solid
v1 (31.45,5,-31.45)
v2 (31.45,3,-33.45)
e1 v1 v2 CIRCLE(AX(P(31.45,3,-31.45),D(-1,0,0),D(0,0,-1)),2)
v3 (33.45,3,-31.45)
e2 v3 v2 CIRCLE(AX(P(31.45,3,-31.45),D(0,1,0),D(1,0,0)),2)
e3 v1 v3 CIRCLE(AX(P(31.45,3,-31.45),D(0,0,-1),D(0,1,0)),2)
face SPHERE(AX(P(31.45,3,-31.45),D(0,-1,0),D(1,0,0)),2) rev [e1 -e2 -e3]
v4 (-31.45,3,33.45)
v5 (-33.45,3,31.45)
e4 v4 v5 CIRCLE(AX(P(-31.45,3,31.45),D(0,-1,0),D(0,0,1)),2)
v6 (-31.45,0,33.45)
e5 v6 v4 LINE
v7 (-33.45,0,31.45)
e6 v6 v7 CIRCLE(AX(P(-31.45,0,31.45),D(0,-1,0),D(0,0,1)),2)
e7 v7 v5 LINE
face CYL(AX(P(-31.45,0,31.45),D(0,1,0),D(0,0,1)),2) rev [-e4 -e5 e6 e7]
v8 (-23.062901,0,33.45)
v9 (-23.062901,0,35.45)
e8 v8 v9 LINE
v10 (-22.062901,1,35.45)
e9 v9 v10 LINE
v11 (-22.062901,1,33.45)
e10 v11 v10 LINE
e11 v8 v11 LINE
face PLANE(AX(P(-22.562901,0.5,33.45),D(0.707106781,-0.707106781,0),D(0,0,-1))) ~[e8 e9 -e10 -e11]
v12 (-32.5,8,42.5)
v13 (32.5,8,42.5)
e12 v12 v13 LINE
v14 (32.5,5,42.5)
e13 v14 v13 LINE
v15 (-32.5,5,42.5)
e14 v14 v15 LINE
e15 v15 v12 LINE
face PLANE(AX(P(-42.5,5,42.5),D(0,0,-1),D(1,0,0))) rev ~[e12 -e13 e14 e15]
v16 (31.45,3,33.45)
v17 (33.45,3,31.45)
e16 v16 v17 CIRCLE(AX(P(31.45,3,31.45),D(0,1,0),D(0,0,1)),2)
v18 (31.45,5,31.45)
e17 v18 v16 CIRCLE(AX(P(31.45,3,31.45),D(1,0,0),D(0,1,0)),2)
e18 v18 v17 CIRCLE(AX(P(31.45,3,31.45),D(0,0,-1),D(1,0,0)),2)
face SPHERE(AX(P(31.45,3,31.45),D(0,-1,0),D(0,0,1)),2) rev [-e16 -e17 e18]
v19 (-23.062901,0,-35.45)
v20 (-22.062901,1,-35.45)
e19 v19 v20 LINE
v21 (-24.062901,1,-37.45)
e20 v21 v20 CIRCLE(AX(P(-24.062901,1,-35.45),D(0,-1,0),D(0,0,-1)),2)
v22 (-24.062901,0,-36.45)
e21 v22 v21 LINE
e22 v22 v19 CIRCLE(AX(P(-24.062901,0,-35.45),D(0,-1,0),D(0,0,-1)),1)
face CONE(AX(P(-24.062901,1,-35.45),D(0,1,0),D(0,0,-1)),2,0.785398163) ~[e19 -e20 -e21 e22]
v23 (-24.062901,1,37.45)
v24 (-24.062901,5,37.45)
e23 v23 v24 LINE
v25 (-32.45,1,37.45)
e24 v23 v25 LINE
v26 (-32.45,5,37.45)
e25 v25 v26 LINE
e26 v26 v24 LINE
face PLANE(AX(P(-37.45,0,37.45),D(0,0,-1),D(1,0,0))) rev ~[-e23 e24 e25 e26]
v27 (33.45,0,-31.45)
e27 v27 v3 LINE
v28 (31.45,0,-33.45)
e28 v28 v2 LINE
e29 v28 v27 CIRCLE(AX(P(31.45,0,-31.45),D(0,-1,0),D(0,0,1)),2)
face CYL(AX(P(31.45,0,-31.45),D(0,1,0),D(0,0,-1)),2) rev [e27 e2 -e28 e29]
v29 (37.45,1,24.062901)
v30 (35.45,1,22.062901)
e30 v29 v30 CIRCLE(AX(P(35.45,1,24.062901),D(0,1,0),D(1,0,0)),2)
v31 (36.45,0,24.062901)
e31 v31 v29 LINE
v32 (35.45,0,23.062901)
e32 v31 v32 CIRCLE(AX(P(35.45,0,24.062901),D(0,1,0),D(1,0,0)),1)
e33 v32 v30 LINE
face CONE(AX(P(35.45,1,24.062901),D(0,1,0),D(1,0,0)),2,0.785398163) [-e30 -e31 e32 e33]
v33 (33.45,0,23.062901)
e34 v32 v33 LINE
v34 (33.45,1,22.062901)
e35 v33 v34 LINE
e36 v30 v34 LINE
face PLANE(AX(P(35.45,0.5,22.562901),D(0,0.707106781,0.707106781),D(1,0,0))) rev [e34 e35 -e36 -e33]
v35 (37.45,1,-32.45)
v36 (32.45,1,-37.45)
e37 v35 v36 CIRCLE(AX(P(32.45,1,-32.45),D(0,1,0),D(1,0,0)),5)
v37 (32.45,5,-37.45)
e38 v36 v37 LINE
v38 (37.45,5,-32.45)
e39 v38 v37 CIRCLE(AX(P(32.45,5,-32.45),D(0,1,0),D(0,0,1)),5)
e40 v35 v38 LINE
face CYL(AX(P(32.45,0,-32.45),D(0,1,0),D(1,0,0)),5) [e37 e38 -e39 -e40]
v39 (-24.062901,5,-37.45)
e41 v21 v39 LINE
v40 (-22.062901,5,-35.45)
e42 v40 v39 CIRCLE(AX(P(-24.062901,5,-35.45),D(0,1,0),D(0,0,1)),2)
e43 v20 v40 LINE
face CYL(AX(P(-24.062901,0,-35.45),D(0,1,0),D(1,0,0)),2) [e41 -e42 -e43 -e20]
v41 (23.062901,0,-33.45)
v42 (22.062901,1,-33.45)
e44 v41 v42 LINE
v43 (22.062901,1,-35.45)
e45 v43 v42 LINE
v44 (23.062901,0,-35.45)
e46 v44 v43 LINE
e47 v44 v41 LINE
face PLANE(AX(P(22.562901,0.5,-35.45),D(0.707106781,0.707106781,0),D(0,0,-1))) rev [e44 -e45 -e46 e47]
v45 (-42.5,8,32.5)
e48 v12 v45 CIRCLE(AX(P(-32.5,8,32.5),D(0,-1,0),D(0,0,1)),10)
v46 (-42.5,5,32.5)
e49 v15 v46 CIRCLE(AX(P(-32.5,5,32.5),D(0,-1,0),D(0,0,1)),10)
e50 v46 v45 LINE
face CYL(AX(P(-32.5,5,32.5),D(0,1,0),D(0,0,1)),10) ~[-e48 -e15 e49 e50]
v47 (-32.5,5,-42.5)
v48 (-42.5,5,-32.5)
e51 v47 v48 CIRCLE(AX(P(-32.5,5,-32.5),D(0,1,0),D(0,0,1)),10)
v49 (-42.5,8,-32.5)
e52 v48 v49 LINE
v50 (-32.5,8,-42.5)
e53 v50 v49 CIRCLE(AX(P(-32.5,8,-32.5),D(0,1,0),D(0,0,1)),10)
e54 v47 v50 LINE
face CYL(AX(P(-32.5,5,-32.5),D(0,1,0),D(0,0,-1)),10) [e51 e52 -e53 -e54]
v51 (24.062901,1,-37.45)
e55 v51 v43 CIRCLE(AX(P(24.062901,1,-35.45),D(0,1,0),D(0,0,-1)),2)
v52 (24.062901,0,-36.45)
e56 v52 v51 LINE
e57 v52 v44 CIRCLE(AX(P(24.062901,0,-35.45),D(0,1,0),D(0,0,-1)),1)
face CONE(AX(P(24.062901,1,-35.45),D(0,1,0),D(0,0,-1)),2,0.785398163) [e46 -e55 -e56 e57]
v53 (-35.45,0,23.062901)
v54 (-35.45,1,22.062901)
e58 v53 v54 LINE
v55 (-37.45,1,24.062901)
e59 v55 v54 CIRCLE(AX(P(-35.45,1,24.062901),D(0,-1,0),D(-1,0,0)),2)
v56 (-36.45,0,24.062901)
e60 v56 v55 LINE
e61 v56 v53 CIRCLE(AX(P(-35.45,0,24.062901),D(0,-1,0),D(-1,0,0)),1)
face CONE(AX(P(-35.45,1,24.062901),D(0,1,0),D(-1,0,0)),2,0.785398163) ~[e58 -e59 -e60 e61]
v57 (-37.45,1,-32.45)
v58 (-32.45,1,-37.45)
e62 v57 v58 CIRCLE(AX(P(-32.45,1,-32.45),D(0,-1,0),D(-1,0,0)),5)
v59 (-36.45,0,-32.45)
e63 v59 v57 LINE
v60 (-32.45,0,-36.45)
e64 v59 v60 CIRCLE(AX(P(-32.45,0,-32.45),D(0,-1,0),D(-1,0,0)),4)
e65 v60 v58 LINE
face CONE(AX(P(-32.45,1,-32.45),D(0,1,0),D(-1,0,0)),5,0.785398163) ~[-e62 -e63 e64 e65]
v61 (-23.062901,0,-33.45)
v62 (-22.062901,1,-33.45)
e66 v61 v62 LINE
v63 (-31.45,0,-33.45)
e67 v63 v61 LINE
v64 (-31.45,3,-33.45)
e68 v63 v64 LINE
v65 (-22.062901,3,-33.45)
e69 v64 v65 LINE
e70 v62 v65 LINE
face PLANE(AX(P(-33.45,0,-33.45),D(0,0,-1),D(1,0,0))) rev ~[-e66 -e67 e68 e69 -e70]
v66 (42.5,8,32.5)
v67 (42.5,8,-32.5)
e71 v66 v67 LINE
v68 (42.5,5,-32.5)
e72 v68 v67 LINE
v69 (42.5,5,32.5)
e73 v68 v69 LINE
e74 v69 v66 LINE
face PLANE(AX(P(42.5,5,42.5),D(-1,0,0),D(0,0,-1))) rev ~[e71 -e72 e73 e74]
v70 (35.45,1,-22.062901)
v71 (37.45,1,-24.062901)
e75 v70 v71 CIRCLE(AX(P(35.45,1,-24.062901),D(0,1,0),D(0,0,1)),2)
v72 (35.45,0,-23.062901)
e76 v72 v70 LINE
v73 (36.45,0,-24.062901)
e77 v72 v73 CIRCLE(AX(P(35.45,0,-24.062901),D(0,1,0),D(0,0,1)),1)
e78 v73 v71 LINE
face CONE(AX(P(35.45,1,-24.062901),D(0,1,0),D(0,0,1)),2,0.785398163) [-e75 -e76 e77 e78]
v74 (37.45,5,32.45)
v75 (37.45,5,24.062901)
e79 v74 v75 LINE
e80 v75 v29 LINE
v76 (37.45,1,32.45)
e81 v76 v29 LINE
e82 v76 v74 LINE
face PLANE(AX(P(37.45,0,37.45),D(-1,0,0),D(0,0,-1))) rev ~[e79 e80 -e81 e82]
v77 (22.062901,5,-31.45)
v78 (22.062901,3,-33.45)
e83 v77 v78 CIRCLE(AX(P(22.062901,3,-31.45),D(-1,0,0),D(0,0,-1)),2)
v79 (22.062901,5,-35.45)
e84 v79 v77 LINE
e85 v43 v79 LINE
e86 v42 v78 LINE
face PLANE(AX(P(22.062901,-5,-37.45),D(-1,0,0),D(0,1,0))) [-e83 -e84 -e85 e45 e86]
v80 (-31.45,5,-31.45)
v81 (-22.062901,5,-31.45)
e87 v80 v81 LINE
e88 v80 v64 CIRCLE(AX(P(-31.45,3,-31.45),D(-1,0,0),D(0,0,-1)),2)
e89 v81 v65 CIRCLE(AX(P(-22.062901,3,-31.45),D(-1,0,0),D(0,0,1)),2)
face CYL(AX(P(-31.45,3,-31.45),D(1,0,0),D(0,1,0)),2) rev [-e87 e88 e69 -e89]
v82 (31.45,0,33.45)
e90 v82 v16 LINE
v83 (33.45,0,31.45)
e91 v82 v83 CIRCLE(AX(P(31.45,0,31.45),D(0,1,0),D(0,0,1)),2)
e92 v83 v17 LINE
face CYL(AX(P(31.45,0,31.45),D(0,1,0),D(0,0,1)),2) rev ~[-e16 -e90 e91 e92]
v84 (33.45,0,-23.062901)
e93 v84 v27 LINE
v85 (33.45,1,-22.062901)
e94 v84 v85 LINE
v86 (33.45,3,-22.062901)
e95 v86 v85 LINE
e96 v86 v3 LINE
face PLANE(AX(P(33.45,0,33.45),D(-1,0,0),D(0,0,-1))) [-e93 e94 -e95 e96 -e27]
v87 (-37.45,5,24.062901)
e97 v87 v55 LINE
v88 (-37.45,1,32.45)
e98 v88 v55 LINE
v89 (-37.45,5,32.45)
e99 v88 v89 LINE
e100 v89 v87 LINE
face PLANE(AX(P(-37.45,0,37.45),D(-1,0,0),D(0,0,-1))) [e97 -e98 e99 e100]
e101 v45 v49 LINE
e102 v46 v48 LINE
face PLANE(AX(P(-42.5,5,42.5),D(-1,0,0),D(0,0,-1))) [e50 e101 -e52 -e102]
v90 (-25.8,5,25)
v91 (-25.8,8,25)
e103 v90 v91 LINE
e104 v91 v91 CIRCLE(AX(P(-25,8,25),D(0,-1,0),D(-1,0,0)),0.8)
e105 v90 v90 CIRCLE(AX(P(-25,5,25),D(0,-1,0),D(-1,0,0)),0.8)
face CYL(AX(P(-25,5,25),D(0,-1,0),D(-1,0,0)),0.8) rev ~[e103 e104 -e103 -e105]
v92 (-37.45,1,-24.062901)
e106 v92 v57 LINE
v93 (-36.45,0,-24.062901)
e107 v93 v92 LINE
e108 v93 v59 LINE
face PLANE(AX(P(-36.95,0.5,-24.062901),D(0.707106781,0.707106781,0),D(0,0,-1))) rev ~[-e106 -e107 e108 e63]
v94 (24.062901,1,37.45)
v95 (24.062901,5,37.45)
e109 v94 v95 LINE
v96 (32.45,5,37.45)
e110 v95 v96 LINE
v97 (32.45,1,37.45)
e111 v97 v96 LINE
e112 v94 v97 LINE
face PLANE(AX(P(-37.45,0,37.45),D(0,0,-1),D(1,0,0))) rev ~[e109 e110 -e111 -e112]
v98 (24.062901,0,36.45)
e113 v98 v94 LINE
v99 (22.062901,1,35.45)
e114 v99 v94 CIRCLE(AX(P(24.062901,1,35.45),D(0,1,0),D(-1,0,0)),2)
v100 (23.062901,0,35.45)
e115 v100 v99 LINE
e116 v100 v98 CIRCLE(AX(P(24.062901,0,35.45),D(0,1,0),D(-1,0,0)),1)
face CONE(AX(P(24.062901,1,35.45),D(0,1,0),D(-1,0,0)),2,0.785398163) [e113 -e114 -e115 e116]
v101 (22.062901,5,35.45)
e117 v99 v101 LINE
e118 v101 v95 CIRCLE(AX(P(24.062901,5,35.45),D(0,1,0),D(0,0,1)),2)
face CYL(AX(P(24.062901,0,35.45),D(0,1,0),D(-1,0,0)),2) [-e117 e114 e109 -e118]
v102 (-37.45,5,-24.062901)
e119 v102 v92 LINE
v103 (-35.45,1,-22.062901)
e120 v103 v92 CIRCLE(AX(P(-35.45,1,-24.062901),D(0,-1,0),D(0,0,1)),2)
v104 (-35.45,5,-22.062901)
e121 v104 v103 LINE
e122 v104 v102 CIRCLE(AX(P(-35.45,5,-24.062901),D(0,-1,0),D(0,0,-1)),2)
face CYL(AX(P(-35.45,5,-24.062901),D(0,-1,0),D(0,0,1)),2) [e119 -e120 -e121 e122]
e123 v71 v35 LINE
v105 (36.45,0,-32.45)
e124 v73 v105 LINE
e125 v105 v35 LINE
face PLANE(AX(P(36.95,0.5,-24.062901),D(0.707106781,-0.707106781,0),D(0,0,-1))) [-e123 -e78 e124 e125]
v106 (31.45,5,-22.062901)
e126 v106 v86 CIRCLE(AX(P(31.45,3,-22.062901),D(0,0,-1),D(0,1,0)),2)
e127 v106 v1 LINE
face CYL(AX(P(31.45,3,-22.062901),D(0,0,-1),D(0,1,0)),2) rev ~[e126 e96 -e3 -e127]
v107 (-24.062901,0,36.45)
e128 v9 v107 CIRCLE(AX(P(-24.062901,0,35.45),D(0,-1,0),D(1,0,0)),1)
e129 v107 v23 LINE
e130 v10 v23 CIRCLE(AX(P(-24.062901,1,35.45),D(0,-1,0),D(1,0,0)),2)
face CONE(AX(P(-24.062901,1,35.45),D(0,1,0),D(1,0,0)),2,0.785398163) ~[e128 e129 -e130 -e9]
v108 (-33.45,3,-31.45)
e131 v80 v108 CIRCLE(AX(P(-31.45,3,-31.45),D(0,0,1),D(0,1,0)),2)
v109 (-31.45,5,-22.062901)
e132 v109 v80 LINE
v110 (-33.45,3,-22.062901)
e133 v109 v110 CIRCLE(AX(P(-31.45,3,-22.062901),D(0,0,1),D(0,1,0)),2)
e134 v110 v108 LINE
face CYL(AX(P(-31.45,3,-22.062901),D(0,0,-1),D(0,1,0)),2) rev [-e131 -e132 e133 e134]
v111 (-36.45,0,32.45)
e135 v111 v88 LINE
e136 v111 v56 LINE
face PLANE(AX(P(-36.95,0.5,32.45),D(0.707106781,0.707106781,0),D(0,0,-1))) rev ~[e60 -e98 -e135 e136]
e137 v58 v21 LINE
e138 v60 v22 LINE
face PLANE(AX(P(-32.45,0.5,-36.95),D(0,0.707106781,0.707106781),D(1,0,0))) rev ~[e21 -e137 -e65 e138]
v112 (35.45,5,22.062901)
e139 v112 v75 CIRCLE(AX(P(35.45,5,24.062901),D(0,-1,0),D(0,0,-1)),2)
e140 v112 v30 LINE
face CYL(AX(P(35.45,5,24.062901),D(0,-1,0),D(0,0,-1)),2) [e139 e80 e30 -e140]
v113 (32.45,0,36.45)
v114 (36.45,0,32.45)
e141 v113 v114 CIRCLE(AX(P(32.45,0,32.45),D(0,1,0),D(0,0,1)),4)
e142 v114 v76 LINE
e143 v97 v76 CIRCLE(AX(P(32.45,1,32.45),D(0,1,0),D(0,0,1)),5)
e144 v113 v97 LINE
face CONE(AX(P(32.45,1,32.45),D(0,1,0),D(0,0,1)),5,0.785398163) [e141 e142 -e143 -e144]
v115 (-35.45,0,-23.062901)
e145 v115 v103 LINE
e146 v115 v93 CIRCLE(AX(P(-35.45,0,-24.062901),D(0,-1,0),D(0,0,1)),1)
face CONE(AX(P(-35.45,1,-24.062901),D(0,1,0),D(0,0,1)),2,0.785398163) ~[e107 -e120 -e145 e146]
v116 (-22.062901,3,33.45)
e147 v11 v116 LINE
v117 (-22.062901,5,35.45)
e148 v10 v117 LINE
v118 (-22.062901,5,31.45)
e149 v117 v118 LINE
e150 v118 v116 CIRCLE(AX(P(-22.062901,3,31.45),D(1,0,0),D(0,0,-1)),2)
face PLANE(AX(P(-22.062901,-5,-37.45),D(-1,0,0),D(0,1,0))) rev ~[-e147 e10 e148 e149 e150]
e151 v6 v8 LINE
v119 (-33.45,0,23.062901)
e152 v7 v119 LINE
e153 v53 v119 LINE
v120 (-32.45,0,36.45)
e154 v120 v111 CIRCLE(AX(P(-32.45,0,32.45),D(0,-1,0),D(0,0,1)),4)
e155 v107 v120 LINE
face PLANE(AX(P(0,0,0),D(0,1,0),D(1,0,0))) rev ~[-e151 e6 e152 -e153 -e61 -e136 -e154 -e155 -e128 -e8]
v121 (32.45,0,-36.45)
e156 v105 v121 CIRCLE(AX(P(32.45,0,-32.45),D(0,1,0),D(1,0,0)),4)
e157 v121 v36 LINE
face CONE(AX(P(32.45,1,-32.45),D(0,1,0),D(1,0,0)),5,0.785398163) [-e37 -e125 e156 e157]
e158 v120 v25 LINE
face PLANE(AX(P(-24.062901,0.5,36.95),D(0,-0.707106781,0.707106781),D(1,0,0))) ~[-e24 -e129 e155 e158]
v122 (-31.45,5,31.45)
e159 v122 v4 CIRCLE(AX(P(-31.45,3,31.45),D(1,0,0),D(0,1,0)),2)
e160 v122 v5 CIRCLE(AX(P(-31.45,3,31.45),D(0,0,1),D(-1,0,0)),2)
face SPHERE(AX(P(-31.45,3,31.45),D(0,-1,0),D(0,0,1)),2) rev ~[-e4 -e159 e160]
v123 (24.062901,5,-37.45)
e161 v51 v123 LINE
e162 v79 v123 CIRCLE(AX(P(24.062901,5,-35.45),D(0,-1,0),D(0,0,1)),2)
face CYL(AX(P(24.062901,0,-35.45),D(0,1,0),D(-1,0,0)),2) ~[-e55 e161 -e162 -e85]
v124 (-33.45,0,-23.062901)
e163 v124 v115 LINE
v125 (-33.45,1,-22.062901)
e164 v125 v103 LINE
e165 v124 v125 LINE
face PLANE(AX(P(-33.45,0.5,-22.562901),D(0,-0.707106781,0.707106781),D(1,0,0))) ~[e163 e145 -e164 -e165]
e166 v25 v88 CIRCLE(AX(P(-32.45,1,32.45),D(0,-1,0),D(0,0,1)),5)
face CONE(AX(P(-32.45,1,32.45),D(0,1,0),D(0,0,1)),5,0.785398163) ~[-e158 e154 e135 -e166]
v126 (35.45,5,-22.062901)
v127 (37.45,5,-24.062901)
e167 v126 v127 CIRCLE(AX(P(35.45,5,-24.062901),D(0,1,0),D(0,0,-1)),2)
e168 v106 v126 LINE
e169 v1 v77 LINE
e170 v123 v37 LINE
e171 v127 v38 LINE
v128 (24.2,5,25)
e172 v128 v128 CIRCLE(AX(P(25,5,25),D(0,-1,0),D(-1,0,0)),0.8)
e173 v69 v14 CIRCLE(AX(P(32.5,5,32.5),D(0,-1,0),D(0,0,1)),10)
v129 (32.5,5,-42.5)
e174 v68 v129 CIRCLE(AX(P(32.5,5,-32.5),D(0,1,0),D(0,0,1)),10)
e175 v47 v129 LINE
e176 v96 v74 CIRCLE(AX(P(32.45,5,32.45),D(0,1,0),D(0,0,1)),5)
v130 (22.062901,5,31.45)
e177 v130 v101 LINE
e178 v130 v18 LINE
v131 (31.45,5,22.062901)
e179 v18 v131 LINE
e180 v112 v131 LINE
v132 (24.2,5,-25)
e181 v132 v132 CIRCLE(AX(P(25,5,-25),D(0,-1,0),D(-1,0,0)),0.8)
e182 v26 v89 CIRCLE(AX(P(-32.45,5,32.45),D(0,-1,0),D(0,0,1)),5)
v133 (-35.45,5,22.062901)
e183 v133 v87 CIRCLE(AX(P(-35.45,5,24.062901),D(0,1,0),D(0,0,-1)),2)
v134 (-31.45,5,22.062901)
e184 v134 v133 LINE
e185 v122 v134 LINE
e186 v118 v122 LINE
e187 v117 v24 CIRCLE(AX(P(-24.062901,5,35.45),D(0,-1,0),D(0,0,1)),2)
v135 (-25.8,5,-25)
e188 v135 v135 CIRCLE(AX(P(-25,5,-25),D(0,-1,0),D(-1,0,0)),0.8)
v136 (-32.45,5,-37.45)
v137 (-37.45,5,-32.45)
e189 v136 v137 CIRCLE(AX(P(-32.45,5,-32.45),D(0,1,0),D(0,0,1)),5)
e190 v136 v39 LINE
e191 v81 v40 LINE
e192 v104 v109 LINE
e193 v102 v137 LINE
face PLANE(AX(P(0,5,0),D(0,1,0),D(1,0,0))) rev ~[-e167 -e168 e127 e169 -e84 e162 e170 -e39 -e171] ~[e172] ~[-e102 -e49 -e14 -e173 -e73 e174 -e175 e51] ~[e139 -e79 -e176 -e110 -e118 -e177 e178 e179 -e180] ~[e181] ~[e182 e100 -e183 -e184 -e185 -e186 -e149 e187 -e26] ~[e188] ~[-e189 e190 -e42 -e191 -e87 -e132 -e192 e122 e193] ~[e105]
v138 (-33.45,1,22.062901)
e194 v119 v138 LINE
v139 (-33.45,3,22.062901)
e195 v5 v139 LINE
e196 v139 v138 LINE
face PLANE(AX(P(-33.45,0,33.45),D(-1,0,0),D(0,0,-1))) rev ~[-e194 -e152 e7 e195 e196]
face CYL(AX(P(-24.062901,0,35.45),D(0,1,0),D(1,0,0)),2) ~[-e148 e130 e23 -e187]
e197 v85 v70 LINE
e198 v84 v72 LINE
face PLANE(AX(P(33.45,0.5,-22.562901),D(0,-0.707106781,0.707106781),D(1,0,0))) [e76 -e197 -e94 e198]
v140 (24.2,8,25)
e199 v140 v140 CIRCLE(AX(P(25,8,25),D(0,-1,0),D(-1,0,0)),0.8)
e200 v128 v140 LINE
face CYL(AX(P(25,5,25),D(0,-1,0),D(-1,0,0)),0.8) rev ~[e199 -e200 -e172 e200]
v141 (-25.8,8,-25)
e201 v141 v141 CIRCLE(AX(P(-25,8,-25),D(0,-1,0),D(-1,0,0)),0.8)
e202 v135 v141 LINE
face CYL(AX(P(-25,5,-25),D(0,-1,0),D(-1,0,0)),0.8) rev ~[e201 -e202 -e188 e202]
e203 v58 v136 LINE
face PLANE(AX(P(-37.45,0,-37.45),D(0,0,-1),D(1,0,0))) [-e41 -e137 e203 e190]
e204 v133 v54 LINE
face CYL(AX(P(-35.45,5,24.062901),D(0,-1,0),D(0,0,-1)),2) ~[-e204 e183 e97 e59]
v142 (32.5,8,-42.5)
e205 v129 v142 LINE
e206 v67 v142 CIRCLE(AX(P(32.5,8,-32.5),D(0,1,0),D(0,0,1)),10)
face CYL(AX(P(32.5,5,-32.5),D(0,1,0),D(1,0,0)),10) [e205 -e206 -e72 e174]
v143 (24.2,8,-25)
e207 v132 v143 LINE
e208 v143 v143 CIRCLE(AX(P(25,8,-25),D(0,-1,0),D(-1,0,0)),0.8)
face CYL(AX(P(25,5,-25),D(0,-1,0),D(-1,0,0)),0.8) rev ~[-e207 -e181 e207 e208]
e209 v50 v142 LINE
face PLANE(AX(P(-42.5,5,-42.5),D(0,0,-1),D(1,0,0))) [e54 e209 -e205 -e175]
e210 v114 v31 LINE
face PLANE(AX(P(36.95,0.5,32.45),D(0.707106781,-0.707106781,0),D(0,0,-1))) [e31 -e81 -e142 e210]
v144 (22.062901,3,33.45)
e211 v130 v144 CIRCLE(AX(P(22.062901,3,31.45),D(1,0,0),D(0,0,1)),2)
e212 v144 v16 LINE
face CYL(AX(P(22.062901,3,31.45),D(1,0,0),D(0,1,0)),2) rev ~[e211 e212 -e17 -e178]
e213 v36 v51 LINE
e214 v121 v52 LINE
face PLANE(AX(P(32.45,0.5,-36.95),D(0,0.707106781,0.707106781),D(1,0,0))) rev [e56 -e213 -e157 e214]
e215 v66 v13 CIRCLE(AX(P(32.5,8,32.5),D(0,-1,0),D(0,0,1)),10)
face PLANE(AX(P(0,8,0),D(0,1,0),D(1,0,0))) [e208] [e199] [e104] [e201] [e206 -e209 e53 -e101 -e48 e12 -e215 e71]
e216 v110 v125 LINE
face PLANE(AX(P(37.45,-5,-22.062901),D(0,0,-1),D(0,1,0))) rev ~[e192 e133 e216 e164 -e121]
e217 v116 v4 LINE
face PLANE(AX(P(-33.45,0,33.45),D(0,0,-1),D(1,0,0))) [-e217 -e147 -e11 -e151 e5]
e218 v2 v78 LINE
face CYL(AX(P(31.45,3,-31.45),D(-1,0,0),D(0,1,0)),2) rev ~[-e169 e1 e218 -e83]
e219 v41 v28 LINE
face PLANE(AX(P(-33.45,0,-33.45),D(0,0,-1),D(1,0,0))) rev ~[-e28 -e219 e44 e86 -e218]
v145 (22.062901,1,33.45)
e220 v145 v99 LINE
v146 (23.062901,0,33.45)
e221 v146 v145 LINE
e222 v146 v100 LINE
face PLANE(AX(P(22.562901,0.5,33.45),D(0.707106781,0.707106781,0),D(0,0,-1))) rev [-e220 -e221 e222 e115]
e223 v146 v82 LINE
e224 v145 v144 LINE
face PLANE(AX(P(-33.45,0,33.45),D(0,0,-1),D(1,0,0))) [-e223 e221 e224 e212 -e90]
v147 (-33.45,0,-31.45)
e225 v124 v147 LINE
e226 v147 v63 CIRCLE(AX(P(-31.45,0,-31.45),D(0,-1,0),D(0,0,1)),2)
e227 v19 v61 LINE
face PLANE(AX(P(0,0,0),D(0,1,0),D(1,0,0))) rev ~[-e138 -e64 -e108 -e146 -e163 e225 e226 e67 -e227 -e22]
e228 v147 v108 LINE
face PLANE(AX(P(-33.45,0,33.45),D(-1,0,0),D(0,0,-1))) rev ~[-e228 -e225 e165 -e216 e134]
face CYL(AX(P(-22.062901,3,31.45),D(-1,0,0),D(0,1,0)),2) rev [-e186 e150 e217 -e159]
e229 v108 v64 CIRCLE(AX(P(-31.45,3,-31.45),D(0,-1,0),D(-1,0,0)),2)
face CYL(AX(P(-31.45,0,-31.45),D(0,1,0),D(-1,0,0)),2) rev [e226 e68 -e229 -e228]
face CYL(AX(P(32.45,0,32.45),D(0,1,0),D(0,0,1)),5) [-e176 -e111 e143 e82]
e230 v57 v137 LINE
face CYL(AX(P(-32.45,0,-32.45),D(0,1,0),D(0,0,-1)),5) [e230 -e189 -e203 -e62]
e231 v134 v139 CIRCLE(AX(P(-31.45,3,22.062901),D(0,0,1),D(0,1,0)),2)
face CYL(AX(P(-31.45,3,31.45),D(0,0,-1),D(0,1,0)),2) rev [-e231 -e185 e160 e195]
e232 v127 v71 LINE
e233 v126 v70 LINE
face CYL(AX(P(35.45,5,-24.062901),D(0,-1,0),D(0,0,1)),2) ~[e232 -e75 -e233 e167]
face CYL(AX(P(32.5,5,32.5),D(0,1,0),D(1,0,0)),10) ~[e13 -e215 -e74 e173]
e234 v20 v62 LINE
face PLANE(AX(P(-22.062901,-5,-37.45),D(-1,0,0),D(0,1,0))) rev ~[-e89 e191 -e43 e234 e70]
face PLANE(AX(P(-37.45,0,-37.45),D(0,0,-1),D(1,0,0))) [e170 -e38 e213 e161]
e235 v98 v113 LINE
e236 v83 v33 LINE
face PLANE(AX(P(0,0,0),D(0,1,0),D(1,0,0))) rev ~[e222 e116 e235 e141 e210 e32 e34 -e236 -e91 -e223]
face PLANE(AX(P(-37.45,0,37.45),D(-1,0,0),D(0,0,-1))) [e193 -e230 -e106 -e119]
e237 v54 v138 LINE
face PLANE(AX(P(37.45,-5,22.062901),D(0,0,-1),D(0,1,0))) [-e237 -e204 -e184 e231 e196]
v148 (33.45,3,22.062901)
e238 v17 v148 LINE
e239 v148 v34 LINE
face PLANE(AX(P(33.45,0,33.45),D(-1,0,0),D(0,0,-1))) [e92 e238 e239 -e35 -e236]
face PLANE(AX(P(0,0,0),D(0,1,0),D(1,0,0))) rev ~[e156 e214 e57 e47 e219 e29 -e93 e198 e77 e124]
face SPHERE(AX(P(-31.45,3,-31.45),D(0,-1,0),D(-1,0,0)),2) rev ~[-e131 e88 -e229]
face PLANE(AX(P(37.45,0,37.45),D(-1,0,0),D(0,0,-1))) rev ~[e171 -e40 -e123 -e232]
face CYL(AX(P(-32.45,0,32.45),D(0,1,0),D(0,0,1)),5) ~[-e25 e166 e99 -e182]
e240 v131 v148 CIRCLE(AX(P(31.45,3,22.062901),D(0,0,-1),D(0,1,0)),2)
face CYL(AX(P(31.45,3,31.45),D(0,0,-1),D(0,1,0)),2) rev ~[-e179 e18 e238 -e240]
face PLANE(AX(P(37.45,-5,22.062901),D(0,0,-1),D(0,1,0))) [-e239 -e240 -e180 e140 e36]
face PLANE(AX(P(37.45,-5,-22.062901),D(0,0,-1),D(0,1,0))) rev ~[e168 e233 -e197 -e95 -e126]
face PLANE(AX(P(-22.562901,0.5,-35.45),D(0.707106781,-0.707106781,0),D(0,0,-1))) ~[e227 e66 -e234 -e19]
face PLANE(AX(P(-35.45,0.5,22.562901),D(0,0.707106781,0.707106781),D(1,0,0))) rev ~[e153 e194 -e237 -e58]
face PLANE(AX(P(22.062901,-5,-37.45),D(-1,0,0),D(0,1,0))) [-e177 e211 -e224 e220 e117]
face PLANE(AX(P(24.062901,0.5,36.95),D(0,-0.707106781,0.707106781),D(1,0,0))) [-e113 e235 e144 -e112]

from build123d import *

# Parameters (mm, degrees)
SKETCH_1_W               = 74.9
SKETCH_1_H               = 74.9
SKETCH_1_W_2             = 66.9
SKETCH_1_H_2             = 66.9
EXTRUDE_1_DEPTH          = 5
SKETCH_2_W               = 85
SKETCH_2_H               = 85
EXTRUDE_2_DEPTH          = 3
FILLET_2_R               = 5
SKETCH_3_W               = 44.125802366
SKETCH_3_H               = 10
CUT_EXTRUDE_1_DEPTH      = 103
PATTERN_CIRCULAR_1_COUNT = 2
PATTERN_CIRCULAR_1_ANGLE = 90
FILLET_3_R               = 2
FILLET_4_R               = 2
FILLET_5_R               = 2
CHAMFER_1_SIZE           = 1
SKETCH_5_R               = 0.8
CUT_EXTRUDE_2_DEPTH      = 10
FILLET_9_R               = 10


with BuildPart() as part:
    # 草图1 → 凸台-拉伸1 (new body)
    with BuildSketch(Plane(origin=(0, 0, 0), x_dir=(1, 0, 0), z_dir=(0, 1, 0))):
        Rectangle(SKETCH_1_W, SKETCH_1_H)
        Rectangle(SKETCH_1_W_2, SKETCH_1_H_2, mode=Mode.SUBTRACT)
    extrude(amount=EXTRUDE_1_DEPTH)

    # 草图2 → 凸台-拉伸2 (add)
    with BuildSketch(Plane(origin=(0, 5, 0), x_dir=(1, 0, 0), z_dir=(0, 1, 0))):
        Rectangle(SKETCH_2_W, SKETCH_2_H)
    extrude(amount=EXTRUDE_2_DEPTH)

    # 圆角2
    fillet_2_edges = [part.edges().sort_by_distance(p)[0] for p in [
        (-37.45, 2.5, 37.45),
        (-37.45, 2.5, -37.45),
        (37.45, 2.5, -37.45),
        (37.45, 2.5, 37.45),
    ]]
    fillet(fillet_2_edges, radius=FILLET_2_R)

    # 草图3 → 切除-拉伸1 (cut, symmetric)
    with BuildSketch(Plane(origin=(0, 0, -37.45), x_dir=(-1, 0, 0), z_dir=(0, 0, -1))):
        Rectangle(SKETCH_3_W, SKETCH_3_H)
    cut_extrude_1 = extrude(amount=CUT_EXTRUDE_1_DEPTH, both=True, mode=Mode.SUBTRACT)

    # 阵列(圆周)1: 切除-拉伸1 ×2 about axis
    pattern_circular_1_axis = Axis((0, 0, 0), (0, -1, 0))
    for i in range(1, PATTERN_CIRCULAR_1_COUNT):
        add(cut_extrude_1.rotate(pattern_circular_1_axis, i * PATTERN_CIRCULAR_1_ANGLE / (PATTERN_CIRCULAR_1_COUNT - 1)), mode=Mode.SUBTRACT)

    # 圆角3
    fillet_3_edges = [part.edges().sort_by_distance(p)[0] for p in [
        (-33.45, 2.5, 33.45),
        (33.45, 2.5, 33.45),
        (33.45, 2.5, -33.45),
        (-33.45, 2.5, -33.45),
    ]]
    fillet(fillet_3_edges, radius=FILLET_3_R)

    # 圆角4
    fillet_4_edges = [part.edges().sort_by_distance(p)[0] for p in [
        (-22.062901183, 2.5, -37.45),
        (-37.45, 2.5, -22.062901183),
        (37.45, 2.5, -22.062901183),
        (22.062901183, 2.5, -37.45),
        (-37.45, 2.5, 22.062901183),
        (-22.062901183, 2.5, 37.45),
        (37.45, 2.5, 22.062901183),
        (22.062901183, 2.5, 37.45),
    ]]
    fillet(fillet_4_edges, radius=FILLET_4_R)

    # 圆角5
    fillet_5_edges = [part.edges().sort_by_distance(p)[0] for p in [
        (-26.756450591, 5, 33.45),
        (-32.864213562, 5, 32.864213562),
        (33.45, 5, 26.756450591),
        (26.756450591, 5, 33.45),
        (-33.45, 5, -26.756450591),
        (-32.864213562, 5, -32.864213562),
        (33.45, 5, -26.756450591),
        (32.864213562, 5, -32.864213562),
        (-33.45, 5, 26.756450591),
        (32.864213562, 5, 32.864213562),
        (-26.756450591, 5, -33.45),
        (26.756450591, 5, -33.45),
    ]]
    fillet(fillet_5_edges, radius=FILLET_5_R)

    # 倒角1
    chamfer_1_edges = [part.edges().sort_by_distance(p)[0] for p in [
        (-22.062901183, 0, 34.45),
        (-22.64868762, 0, 36.864213562),
        (-28.256450591, 0, 37.45),
        (-35.985533906, 0, 35.985533906),
        (-37.45, 0, 28.256450591),
        (-36.864213562, 0, 22.64868762),
        (-36.864213562, 0, -22.64868762),
        (-22.062901183, 0, -34.45),
        (-37.45, 0, -28.256450591),
        (-22.64868762, 0, -36.864213562),
        (-35.985533906, 0, -35.985533906),
        (-28.256450591, 0, -37.45),
        (36.864213562, 0, -22.64868762),
        (37.45, 0, -28.256450591),
        (35.985533906, 0, -35.985533906),
        (22.062901183, 0, -34.45),
        (28.256450591, 0, -37.45),
        (22.64868762, 0, -36.864213562),
        (36.864213562, 0, 22.64868762),
        (37.45, 0, 28.256450591),
        (35.985533906, 0, 35.985533906),
        (28.256450591, 0, 37.45),
        (22.062901183, 0, 34.45),
        (22.64868762, 0, 36.864213562),
    ]]
    chamfer(chamfer_1_edges, length=CHAMFER_1_SIZE)

    # 草图5 → 切除-拉伸2 (cut)
    with BuildSketch(Plane(origin=(0, 5, 0), x_dir=(-1, 0, 0), z_dir=(0, -1, 0))):
        with Locations((-25, 25)):
            Circle(SKETCH_5_R)
        with Locations((25, 25)):
            Circle(SKETCH_5_R)
        with Locations((25, -25)):
            Circle(SKETCH_5_R)
        with Locations((-25, -25)):
            Circle(SKETCH_5_R)
    extrude(amount=-CUT_EXTRUDE_2_DEPTH, mode=Mode.SUBTRACT)

    # 圆角9
    fillet_9_edges = [part.edges().sort_by_distance(p)[0] for p in [
        (42.5, 6.5, -42.5),
        (-42.5, 6.5, -42.5),
        (42.5, 6.5, 42.5),
        (-42.5, 6.5, 42.5),
    ]]
    fillet(fillet_9_edges, radius=FILLET_9_R)


solid = part.part
